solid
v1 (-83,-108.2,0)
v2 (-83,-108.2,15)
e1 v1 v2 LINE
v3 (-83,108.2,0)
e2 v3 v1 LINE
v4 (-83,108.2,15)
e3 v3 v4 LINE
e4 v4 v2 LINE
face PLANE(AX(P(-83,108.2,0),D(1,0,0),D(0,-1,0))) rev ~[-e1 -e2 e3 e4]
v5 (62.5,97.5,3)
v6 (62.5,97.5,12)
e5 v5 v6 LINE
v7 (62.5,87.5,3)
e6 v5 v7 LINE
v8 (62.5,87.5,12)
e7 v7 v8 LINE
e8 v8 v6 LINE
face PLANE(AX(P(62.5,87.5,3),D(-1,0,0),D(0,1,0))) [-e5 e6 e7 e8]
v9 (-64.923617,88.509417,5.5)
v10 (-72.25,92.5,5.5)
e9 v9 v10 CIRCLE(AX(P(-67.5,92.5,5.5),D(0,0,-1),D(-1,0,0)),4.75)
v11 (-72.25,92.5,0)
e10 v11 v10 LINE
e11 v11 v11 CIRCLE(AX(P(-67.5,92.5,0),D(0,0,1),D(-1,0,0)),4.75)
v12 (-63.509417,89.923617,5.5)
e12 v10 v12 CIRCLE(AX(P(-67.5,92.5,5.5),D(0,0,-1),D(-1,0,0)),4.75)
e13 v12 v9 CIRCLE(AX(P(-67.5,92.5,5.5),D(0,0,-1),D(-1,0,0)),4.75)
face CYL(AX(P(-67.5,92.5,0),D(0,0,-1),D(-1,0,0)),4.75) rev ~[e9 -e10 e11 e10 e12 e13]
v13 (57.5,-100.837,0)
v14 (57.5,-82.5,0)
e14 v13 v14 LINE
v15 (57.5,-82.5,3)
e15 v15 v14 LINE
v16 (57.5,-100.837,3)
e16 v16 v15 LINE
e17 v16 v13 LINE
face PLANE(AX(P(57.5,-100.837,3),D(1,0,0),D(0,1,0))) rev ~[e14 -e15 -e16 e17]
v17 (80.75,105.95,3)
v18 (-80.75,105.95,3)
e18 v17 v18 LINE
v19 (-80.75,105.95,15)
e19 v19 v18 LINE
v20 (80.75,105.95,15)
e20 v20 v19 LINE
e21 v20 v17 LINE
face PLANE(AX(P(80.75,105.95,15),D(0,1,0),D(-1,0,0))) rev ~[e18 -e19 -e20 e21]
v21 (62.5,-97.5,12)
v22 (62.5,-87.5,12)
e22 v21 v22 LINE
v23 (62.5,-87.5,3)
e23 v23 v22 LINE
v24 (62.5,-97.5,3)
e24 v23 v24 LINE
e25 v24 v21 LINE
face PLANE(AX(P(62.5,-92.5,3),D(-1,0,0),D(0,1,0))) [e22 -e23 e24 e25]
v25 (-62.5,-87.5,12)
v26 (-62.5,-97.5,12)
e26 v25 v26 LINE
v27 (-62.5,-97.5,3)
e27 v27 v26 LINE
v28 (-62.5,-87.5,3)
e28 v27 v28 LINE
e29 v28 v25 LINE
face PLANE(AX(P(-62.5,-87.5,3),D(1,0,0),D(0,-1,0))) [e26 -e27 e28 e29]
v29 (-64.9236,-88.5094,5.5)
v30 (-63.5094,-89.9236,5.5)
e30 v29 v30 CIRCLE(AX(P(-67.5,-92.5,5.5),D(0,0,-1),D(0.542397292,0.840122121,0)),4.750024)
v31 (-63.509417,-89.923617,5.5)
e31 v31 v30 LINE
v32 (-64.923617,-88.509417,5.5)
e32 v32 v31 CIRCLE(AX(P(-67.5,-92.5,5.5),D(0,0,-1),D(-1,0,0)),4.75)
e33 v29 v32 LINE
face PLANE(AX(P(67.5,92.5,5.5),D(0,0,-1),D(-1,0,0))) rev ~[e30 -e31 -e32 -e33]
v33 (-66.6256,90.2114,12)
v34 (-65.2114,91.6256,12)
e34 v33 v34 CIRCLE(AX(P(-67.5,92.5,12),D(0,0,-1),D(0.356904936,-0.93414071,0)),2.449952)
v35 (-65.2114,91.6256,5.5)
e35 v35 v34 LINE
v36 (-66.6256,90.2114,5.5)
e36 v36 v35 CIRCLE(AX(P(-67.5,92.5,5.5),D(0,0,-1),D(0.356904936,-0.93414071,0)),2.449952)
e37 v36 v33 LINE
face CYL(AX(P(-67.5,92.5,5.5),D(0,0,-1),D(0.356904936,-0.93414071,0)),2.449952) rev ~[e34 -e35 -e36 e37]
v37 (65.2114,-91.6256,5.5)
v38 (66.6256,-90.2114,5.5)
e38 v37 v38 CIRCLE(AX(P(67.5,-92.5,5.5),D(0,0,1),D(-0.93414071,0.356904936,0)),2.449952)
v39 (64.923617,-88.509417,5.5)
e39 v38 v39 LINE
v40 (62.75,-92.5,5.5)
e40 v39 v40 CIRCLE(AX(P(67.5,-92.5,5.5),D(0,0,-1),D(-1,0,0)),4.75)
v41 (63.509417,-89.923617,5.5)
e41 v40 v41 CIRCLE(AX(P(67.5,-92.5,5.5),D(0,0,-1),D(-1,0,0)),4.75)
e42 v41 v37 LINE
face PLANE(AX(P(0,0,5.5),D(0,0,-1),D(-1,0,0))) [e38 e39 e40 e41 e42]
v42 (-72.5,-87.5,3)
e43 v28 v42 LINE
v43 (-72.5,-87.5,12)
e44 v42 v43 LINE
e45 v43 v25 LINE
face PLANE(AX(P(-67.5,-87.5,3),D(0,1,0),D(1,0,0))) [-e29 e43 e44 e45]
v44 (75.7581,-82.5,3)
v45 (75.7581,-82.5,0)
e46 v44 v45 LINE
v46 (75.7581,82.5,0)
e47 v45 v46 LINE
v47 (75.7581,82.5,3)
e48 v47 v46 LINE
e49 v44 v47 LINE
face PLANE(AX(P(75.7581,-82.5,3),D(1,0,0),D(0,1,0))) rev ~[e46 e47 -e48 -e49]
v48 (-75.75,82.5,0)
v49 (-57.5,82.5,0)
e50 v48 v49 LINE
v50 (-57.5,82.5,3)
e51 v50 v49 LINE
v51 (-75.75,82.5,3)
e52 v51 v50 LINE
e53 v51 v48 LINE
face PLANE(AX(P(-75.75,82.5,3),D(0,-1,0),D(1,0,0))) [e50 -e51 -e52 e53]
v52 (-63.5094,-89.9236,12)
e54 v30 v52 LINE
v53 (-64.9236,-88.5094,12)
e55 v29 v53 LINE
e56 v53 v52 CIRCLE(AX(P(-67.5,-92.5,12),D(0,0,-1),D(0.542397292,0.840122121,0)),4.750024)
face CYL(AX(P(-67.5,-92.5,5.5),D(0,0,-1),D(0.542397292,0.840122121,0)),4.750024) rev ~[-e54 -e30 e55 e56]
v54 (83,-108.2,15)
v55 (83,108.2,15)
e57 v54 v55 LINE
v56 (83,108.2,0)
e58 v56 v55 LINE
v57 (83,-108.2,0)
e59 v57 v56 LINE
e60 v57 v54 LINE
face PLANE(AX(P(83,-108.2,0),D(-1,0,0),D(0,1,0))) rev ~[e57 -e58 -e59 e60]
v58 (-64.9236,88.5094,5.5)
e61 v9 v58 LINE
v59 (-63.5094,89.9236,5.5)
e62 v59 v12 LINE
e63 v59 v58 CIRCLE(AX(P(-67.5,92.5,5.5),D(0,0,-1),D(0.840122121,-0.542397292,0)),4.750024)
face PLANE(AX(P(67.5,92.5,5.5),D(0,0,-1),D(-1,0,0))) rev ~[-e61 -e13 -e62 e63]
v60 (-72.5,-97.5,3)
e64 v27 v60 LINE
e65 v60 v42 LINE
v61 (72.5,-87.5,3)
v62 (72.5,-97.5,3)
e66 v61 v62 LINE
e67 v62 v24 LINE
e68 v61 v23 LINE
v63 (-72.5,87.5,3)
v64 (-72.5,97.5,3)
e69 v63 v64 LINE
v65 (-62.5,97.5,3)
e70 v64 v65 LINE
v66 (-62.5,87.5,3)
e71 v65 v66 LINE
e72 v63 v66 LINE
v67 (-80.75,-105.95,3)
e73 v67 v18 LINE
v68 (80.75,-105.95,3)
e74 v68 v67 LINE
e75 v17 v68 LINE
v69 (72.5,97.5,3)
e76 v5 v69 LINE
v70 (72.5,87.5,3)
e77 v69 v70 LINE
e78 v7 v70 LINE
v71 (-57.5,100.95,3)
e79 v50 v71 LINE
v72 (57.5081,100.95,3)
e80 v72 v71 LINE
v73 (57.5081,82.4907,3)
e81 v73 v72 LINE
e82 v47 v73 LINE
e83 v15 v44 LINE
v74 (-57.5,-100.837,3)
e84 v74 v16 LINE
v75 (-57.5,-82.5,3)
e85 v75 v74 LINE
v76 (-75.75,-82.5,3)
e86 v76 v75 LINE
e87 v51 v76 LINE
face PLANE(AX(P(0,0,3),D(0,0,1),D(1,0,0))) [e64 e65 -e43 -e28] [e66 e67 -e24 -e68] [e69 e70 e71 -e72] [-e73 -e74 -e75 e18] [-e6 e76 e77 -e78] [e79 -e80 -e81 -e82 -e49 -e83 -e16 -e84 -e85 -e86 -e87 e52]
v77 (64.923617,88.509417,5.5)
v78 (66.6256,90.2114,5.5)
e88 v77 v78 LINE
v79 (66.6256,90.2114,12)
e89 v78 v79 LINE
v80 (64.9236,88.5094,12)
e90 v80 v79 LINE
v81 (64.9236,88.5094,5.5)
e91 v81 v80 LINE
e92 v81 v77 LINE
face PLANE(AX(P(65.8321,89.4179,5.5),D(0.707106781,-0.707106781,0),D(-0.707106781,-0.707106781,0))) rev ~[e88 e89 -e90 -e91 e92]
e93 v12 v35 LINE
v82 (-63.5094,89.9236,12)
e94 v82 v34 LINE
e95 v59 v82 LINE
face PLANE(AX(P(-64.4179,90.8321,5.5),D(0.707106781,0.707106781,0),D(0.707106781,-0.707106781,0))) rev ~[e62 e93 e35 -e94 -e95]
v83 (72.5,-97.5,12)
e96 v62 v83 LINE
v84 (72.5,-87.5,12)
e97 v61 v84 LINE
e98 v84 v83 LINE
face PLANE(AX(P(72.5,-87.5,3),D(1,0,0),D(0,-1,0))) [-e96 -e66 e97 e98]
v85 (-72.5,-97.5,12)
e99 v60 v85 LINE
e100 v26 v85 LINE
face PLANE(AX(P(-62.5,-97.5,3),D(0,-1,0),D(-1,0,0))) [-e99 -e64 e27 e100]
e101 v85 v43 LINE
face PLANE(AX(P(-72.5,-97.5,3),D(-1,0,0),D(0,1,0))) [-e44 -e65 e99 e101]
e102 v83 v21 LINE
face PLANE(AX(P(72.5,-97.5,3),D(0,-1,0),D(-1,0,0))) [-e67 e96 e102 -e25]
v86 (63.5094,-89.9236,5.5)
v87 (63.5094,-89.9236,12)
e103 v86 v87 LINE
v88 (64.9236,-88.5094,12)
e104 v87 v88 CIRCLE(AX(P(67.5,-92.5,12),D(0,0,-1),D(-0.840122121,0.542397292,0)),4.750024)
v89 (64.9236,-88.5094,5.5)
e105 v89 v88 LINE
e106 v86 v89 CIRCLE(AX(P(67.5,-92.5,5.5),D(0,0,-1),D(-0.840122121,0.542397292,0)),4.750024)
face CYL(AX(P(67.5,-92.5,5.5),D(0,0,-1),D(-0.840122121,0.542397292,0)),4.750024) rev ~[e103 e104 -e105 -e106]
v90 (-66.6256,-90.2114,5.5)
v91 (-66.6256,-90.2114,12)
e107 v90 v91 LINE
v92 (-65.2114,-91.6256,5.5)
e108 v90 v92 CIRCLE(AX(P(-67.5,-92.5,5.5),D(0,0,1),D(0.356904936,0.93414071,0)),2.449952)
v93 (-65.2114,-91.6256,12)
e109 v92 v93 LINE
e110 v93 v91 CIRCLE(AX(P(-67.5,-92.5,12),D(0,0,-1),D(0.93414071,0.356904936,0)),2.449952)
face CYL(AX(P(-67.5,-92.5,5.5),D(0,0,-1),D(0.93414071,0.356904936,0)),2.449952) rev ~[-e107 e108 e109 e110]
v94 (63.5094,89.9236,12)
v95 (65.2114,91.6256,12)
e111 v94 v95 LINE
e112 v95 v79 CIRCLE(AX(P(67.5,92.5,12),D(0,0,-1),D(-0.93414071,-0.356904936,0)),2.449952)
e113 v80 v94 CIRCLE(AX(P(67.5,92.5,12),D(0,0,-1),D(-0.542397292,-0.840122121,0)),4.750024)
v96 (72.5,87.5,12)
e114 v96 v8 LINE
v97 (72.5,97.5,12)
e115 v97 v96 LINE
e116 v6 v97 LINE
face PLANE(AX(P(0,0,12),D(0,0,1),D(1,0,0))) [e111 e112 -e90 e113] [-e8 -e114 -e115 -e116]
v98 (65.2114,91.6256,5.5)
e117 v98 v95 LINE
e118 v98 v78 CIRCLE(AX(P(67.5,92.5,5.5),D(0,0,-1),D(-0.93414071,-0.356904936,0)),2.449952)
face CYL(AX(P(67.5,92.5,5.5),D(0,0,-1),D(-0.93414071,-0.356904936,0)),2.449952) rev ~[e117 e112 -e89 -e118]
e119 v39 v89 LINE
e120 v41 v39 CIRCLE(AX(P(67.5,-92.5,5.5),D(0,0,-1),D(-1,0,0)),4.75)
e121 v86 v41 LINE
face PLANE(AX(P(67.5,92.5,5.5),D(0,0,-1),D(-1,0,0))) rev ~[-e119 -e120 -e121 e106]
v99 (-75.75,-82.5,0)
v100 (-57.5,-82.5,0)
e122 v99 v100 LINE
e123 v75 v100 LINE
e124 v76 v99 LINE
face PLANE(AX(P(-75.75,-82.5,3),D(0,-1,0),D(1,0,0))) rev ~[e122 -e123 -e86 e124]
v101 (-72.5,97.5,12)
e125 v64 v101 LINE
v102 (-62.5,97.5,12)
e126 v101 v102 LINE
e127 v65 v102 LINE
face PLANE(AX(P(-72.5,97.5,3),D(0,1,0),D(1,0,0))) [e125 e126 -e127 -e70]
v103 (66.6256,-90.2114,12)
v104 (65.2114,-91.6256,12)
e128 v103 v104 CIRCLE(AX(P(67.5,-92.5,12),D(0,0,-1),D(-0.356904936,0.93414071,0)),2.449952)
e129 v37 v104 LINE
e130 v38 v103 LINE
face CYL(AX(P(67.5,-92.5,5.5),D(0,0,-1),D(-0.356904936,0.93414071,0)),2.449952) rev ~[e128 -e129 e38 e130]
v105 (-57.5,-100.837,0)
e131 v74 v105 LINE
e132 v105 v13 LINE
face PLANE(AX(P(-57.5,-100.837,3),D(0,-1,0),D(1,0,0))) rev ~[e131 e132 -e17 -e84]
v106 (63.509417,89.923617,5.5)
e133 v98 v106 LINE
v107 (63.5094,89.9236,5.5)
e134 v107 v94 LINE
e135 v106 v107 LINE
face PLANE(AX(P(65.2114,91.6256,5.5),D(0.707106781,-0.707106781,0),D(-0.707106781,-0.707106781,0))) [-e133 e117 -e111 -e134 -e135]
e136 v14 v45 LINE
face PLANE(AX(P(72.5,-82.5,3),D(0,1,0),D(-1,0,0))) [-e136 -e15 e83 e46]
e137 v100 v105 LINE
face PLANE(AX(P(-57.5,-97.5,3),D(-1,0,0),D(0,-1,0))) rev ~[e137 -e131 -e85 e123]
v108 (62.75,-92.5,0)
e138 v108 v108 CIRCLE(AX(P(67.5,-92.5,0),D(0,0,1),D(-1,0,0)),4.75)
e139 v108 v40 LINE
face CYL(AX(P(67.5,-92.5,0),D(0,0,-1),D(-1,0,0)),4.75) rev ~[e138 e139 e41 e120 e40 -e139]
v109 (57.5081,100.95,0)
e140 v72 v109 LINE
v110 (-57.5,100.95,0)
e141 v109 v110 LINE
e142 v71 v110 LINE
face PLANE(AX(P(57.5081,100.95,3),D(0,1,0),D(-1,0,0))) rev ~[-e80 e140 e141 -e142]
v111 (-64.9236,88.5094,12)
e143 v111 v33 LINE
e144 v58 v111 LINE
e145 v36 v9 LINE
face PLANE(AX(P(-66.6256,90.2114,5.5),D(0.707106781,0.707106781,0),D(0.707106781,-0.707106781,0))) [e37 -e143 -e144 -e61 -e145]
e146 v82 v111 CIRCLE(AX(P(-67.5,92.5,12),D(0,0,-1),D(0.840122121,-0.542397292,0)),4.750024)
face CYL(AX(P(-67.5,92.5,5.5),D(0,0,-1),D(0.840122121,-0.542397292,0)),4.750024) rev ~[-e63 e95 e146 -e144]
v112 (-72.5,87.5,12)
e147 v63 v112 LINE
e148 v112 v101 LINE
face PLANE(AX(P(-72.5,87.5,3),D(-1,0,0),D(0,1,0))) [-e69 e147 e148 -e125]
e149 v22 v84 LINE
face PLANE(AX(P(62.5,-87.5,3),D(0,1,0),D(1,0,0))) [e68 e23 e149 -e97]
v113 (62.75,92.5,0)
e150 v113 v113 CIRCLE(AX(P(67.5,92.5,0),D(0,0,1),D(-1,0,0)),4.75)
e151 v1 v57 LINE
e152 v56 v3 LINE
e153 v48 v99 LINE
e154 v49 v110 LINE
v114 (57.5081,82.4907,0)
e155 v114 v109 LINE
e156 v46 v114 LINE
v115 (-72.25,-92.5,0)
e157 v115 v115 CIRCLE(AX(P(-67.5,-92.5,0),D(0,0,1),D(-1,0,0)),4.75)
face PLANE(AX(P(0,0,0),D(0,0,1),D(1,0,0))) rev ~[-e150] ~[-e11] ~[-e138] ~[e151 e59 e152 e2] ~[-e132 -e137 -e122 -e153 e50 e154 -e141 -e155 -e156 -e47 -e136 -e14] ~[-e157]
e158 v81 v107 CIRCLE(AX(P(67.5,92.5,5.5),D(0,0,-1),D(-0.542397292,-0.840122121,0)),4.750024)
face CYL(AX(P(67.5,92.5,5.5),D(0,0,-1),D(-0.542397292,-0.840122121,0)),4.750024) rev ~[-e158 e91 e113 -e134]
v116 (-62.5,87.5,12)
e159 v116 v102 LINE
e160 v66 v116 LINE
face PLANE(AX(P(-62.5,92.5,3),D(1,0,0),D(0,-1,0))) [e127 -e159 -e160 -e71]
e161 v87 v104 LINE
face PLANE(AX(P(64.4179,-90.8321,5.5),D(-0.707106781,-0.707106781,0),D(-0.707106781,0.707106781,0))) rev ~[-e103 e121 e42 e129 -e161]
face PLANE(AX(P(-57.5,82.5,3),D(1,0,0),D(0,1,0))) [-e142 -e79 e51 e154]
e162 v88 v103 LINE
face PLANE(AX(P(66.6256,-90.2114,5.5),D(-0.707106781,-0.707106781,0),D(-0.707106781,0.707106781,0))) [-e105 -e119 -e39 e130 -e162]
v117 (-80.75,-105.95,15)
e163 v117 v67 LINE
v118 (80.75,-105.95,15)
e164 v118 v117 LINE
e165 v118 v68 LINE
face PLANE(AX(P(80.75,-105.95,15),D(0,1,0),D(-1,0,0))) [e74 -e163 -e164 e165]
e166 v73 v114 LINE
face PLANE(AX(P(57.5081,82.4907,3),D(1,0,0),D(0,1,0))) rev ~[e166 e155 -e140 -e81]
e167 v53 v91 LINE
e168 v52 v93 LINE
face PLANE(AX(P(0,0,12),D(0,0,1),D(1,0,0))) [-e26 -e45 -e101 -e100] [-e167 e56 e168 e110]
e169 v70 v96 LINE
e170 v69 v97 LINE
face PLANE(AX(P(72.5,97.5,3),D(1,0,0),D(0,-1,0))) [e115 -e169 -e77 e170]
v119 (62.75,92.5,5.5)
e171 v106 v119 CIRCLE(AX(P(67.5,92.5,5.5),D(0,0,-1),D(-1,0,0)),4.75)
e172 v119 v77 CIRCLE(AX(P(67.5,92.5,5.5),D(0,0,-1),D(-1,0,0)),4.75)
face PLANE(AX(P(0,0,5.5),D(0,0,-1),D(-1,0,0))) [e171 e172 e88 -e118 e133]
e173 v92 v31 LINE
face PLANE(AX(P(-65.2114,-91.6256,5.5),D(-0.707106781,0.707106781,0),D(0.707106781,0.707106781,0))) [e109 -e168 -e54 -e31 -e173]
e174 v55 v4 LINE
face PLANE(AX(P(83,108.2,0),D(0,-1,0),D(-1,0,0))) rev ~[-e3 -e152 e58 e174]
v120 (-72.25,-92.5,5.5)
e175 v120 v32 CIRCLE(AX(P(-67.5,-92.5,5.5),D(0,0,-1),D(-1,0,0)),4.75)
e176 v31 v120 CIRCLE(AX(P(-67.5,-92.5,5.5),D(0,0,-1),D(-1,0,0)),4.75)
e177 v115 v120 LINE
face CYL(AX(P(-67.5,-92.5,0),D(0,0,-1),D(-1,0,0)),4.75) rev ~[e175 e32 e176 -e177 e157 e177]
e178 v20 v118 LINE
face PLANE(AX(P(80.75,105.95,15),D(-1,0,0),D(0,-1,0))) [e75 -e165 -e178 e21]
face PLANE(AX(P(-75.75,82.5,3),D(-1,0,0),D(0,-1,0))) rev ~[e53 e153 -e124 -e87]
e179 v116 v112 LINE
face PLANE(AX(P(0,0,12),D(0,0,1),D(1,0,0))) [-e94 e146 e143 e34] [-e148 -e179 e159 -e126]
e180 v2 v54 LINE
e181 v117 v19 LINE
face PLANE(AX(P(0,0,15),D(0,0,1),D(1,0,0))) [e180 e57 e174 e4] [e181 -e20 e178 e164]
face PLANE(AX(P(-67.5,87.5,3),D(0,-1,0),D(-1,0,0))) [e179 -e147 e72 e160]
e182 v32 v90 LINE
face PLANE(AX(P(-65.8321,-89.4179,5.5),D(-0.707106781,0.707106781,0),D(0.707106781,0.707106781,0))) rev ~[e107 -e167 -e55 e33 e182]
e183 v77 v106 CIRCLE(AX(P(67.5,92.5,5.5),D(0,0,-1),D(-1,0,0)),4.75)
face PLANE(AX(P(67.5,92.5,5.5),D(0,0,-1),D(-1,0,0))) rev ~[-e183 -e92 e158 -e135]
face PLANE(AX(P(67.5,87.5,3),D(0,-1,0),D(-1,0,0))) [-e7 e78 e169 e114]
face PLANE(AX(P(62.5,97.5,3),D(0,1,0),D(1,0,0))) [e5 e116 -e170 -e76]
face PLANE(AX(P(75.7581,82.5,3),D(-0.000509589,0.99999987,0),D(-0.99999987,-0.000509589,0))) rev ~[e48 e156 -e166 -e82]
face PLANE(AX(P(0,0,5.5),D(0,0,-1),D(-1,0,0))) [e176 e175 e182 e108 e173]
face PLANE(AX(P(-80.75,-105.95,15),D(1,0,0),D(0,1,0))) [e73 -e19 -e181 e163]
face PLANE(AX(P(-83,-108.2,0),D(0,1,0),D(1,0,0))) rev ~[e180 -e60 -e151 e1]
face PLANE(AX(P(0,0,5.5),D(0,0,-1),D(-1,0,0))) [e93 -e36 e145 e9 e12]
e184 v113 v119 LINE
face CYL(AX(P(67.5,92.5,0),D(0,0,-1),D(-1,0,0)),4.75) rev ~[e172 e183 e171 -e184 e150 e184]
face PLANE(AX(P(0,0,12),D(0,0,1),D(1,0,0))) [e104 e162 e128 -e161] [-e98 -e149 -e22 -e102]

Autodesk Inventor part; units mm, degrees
ref_plane "YZ Plane" through (0, 0, 0) normal (1, 0, 0) x (0, 1, 0)
ref_plane "XZ Plane" through (0, 0, 0) normal (0, 1, 0) x (-1, 0, 0)
ref_plane "XY Plane" through (0, 0, 0) normal (0, 0, 1) x (1, 0, 0)
sketch "Boceto1" plane through (0, 0, 0) normal (0, 0, 1) x (1, 0, 0)
  line L0 (-83, -108.2) -> (83, -108.2)
  line L1 (83, -108.2) -> (83, 108.2)
  line L2 (83, 108.2) -> (-83, 108.2)
  line L3 (-83, 108.2) -> (-83, -108.2)
  line L4 (-83, -108.2) -> (83, 108.2) construction
  line L5 (83, -108.2) -> (-83, 108.2) construction
  point P0 (0, 0)
  dimension "d0" = 166
  dimension "d1" = 216.4
extrude "Extrusión1" add sketch "Boceto1" along normal blind 15
sketch "Boceto2" plane through (0, 0, 15) normal (0, 0, 1) x (1, 0, 0)
  line L0 (80.75, -105.95) -> (-80.75, -105.95)
  line L1 (-80.75, -105.95) -> (-80.75, 105.95)
  line L2 (80.75, 105.95) -> (-80.75, 105.95)
  line L3 (80.75, 105.95) -> (80.75, -105.95)
  line L4 (-83, 108.2) -> (83, 108.2)
  line L5 (83, 108.2) -> (83, -108.2)
  line L6 (83, -108.2) -> (-83, -108.2)
  line L7 (-83, -108.2) -> (-83, 108.2)
  point P0 (0, 0)
extrude "Extrusión2" cut sketch "Boceto2" against normal blind 12 contours L0 L1 L2 L3
sketch "Boceto3" plane through (0, 0, 3) normal (0, 0, 1) x (1, 0, 0)
  line L0 (-67.5, -92.5) -> (67.5, -92.5)
  line L1 (67.5, -92.5) -> (67.5, 92.5)
  line L2 (67.5, 92.5) -> (-67.5, 92.5)
  line L3 (-67.5, 92.5) -> (-67.5, -92.5)
  line L4 (-62.5, 87.5) -> (-72.5, 87.5)
  line L5 (-72.5, 87.5) -> (-72.5, 97.5)
  line L6 (-72.5, 97.5) -> (-62.5, 97.5)
  line L7 (-62.5, 97.5) -> (-62.5, 87.5)
  line L8 (-62.5, 87.5) -> (-72.5, 97.5) construction
  line L9 (-72.5, 87.5) -> (-62.5, 97.5) construction
  line L10 (72.5, 87.5) -> (62.5, 87.5)
  line L11 (62.5, 87.5) -> (62.5, 97.5)
  line L12 (62.5, 97.5) -> (72.5, 97.5)
  line L13 (72.5, 97.5) -> (72.5, 87.5)
  line L14 (72.5, 87.5) -> (62.5, 97.5) construction
  line L15 (62.5, 87.5) -> (72.5, 97.5) construction
  line L16 (72.5, -97.5) -> (62.5, -97.5)
  line L17 (62.5, -97.5) -> (62.5, -87.5)
  line L18 (62.5, -87.5) -> (72.5, -87.5)
  line L19 (72.5, -87.5) -> (72.5, -97.5)
  line L20 (72.5, -97.5) -> (62.5, -87.5) construction
  line L21 (62.5, -97.5) -> (72.5, -87.5) construction
  line L22 (-62.5, -97.5) -> (-72.5, -97.5)
  line L23 (-72.5, -97.5) -> (-72.5, -87.5)
  line L24 (-72.5, -87.5) -> (-62.5, -87.5)
  line L25 (-62.5, -87.5) -> (-62.5, -97.5)
  line L26 (-62.5, -97.5) -> (-72.5, -87.5) construction
  line L27 (-72.5, -97.5) -> (-62.5, -87.5) construction
  point P0 (0, 0)
  dimension "d12" = 135
  dimension "d13" = 185
  dimension "d14" = 10
  dimension "d15" = 10
  dimension "d16" = 10
  dimension "d17" = 10
  dimension "d18" = 10
  dimension "d19" = 10
  dimension "d20" = 10
  dimension "d21" = 10
extrude "Extrusión3" add sketch "Boceto3" along normal blind 9 contours L3 L24 L25 L0 | L0 L25 L22 L23 L24 L3 | L17 L18 L1 L0 | L0 L1 L18 L19 L16 L17 | L4 L5 L6 L7 L2 L3 | L3 L2 L7 L4 | L10 L11 L2 L1 | L1 L2 L11 L12 L13 L10
sketch "Boceto4" plane through (0, 0, 0) normal (0, 0, -1) x (-1, 0, 0)
  line L0 (72.5, -97.5) -> (72.5, -87.5) projected
  line L1 (72.5, -87.5) -> (62.5, -87.5) projected
  line L2 (62.5, -87.5) -> (62.5, -97.5) projected
  line L3 (62.5, -97.5) -> (72.5, -97.5) projected
  line L4 (-62.5, 87.5) -> (-62.5, 97.5) projected
  line L5 (-62.5, 97.5) -> (-72.5, 97.5) projected
  line L6 (-72.5, 97.5) -> (-72.5, 87.5) projected
  line L7 (-72.5, 87.5) -> (-62.5, 87.5) projected
  line L8 (72.5, 87.5) -> (72.5, 97.5) projected
  line L9 (72.5, 97.5) -> (62.5, 97.5) projected
  line L10 (62.5, 97.5) -> (62.5, 87.5) projected
  line L11 (62.5, 87.5) -> (72.5, 87.5) projected
  line L12 (-62.5, -97.5) -> (-62.5, -87.5) projected
  line L13 (-62.5, -87.5) -> (-72.5, -87.5) projected
  line L14 (-72.5, -87.5) -> (-72.5, -97.5) projected
  line L15 (-72.5, -97.5) -> (-62.5, -97.5) projected
  line L16 (80.75, -105.95) -> (80.75, 105.95) projected
  line L17 (-80.75, -105.95) -> (80.75, -105.95) projected
  line L18 (-80.75, 105.95) -> (-80.75, -105.95) projected
  line L19 (80.75, 105.95) -> (-80.75, 105.95) projected
  line L20 (-67.5, -92.5) -> (-67.5, 92.5) projected
  line L21 (67.5, 92.5) -> (67.5, -92.5) projected
  line L22 (-67.5, 92.5) -> (67.5, 92.5) projected
  line L23 (67.5, -92.5) -> (-67.5, -92.5) projected
  circle A0 centre (-67.5, 92.5) radius 4.75
  circle A1 centre (67.5, 92.5) radius 4.75
  circle A2 centre (67.5, -92.5) radius 4.75
  circle A3 centre (-67.5, -92.5) radius 4.75
  point P0 (0, 0)
  dimension "d24" = 9.5
  dimension "d25" = 9.5
  dimension "d26" = 9.5
  dimension "d27" = 9.5
extrude "Extrusión4" cut sketch "Boceto4" against normal blind 5.5 contours A2 L23 L21 | L21 L23 A2 | A1 L22 L21 | L21 L22 A1 | A3 L20 L23 | L23 L20 A3 | A0 L20 L22 | L22 L20 A0
sketch "Boceto5" plane through (67.5, 92.5, 5.5) normal (0, 0, -1) x (-1, 0, 0)
  arc A0 (2.2886, -0.8744) -> (0.8744, -2.2886) centre (0, 0) ccw
  line L0 (0, 0) -> (4.75, 0) construction
  line L1 (1.6679, -3.0821) -> (2.5764, -3.9906)
  line L2 (1.6679, -3.0821) -> (0.8744, -2.2886)
  line L3 (2.2886, -0.8744) -> (3.9906, -2.5764)
  arc A1 (2.5764, -3.9906) -> (3.9906, -2.5764) centre (0, 0) ccw
  line L4 (135, -185) -> (0, -185)
  arc A2 (134.1256, -2.2886) -> (132.7114, -0.8744) centre (135, 0) ccw
  line L5 (131.9179, -1.6679) -> (131.0094, -2.5764)
  line L6 (131.9179, -1.6679) -> (132.7114, -0.8744)
  line L7 (134.1256, -2.2886) -> (132.4236, -3.9906)
  arc A3 (131.0094, -2.5764) -> (132.4236, -3.9906) centre (135, 0) ccw
  arc A4 (132.7114, -184.1256) -> (134.1256, -182.7114) centre (135, -185) ccw
  line L8 (133.3321, -181.9179) -> (132.4236, -181.0094)
  line L9 (133.3321, -181.9179) -> (134.1256, -182.7114)
  line L10 (132.7114, -184.1256) -> (131.0094, -182.4236)
  arc A5 (132.4236, -181.0094) -> (131.0094, -182.4236) centre (135, -185) ccw
  arc A6 (0.8744, -182.7114) -> (2.2886, -184.1256) centre (0, -185) ccw
  line L11 (3.0821, -183.3321) -> (3.9906, -182.4236)
  line L12 (3.0821, -183.3321) -> (2.2886, -184.1256)
  line L13 (0.8744, -182.7114) -> (2.5764, -181.0094)
  arc A7 (3.9906, -182.4236) -> (2.5764, -181.0094) centre (0, -185) ccw
  point P0 (67.5, -92.5)
  dimension "d30" = 4.9
  dimension "d36" = 4.9
  dimension "d37" = 4.9
  dimension "d38" = 4.9
extrude "Extrusión5" cut sketch "Boceto5" against normal blind 10
sketch "Boceto6" plane through (0, 0, 3) normal (0, 0, 1) x (1, 0, 0)
  line L0 (62.5, -87.5) -> (62.5, -97.5) projected
  line L1 (72.5, -87.5) -> (62.5, -87.5) projected
  line L2 (-62.5, -97.5) -> (-62.5, -87.5) projected
  line L3 (-57.5, -97.5) -> (-57.5, -100.837)
  line L4 (-57.5, -100.837) -> (57.5, -100.837)
  line L5 (57.5, -100.837) -> (57.5, -82.5)
  line L6 (75.7581, -82.5) -> (57.5, -82.5)
  line L7 (-57.5, -100.837) -> (-57.5, -82.5)
  line L8 (-80.75, -105.95) -> (-80.75, 105.95) projected
  line L9 (75.7581, 82.5) -> (57.5081, 82.4907)
  line L10 (-80.75, 105.95) -> (80.75, 105.95) projected
  line L11 (57.5081, 105.95) -> (57.5081, 105.95)
  line L12 (57.5, -105.837) -> (57.5, -105.95)
  arc A0 (57.5, -105.837) -> (62.5, -100.837) centre (57.5, -100.837) ccw
  line L13 (62.5, -100.837) -> (62.5, -87.5)
  line L14 (72.5, -82.5) -> (75.7581, -82.5)
  line L15 (62.5, -87.5) -> (75.75, -87.5)
  line L16 (75.7581, -82.5) -> (75.7581, 82.5)
  arc A1 (75.8451, -87.4992) -> (80.7581, -82.5) centre (75.7581, -82.5) ccw
  arc A2 (80.7581, 82.5082) -> (75.75, 87.5) centre (75.7581, 82.5) ccw
  line L17 (62.5, 87.5) -> (72.5, 87.5) projected
  line L18 (75.75, 87.5) -> (62.5, 87.5)
  line L19 (62.5, 87.5) -> (62.5, 101.2352)
  line L20 (62.5, 97.5) -> (62.5, 87.5) projected
  arc A3 (62.5, 101.2352) -> (57.5081, 105.95) centre (57.5081, 100.95) ccw
  line L21 (57.5081, 82.4907) -> (57.5081, 100.95)
  line L22 (57.5081, 105.95) -> (57.5081, 105.95)
  arc A4 (-57.5, 105.95) -> (-62.5, 100.95) centre (-57.5, 100.95) ccw
  line L23 (-62.5, 87.5) -> (-62.5, 97.5) projected
  line L24 (-62.5, 100.95) -> (-62.5, 87.5)
  line L25 (-72.5, 97.5) -> (-72.5, 87.5) projected
  line L26 (-57.5, 82.5) -> (-57.5, 100.95)
  line L27 (-75.75, 82.5) -> (-75.75, -82.5)
  arc A5 (-75.75, 87.5) -> (-80.75, 82.5) centre (-75.75, 82.5) ccw
  line L28 (-75.75, 82.5) -> (-57.5, 82.5)
  line L29 (-62.5, 87.5) -> (-75.75, 87.5)
  line L30 (-62.5, -87.5) -> (-72.5, -87.5) projected
  arc A6 (-80.75, -82.5) -> (-75.75, -87.5) centre (-75.75, -82.5) ccw
  arc A7 (-62.5, -100.837) -> (-57.5, -105.837) centre (-57.5, -100.837) ccw
  line L31 (-75.75, -87.5) -> (-62.5, -87.5)
  line L32 (-62.5, -100.837) -> (-62.5, -87.5)
  line L33 (57.5, -105.837) -> (-57.5, -105.837)
  line L34 (80.75, -105.95) -> (-80.75, -105.95) projected
  line L35 (-80.75, -82.5) -> (-80.75, 82.5)
  line L36 (-57.5, 105.95) -> (57.5081, 105.95)
  line L37 (80.7581, 82.5082) -> (80.7581, -82.5)
  line L38 (-75.75, -82.5) -> (-57.5, -82.5)
  line L39 (57.5081, 100.95) -> (-57.5, 100.95)
  point P0 (0, 0)
  dimension "d52" = 5
extrude "Extrusión6" cut sketch "Boceto6" against normal blind 10 contours L7 L38 L27 L28 L26 L39 L21 L9 L16 L6 L5 L4 L3
properties part number "TestTapa_v0"
